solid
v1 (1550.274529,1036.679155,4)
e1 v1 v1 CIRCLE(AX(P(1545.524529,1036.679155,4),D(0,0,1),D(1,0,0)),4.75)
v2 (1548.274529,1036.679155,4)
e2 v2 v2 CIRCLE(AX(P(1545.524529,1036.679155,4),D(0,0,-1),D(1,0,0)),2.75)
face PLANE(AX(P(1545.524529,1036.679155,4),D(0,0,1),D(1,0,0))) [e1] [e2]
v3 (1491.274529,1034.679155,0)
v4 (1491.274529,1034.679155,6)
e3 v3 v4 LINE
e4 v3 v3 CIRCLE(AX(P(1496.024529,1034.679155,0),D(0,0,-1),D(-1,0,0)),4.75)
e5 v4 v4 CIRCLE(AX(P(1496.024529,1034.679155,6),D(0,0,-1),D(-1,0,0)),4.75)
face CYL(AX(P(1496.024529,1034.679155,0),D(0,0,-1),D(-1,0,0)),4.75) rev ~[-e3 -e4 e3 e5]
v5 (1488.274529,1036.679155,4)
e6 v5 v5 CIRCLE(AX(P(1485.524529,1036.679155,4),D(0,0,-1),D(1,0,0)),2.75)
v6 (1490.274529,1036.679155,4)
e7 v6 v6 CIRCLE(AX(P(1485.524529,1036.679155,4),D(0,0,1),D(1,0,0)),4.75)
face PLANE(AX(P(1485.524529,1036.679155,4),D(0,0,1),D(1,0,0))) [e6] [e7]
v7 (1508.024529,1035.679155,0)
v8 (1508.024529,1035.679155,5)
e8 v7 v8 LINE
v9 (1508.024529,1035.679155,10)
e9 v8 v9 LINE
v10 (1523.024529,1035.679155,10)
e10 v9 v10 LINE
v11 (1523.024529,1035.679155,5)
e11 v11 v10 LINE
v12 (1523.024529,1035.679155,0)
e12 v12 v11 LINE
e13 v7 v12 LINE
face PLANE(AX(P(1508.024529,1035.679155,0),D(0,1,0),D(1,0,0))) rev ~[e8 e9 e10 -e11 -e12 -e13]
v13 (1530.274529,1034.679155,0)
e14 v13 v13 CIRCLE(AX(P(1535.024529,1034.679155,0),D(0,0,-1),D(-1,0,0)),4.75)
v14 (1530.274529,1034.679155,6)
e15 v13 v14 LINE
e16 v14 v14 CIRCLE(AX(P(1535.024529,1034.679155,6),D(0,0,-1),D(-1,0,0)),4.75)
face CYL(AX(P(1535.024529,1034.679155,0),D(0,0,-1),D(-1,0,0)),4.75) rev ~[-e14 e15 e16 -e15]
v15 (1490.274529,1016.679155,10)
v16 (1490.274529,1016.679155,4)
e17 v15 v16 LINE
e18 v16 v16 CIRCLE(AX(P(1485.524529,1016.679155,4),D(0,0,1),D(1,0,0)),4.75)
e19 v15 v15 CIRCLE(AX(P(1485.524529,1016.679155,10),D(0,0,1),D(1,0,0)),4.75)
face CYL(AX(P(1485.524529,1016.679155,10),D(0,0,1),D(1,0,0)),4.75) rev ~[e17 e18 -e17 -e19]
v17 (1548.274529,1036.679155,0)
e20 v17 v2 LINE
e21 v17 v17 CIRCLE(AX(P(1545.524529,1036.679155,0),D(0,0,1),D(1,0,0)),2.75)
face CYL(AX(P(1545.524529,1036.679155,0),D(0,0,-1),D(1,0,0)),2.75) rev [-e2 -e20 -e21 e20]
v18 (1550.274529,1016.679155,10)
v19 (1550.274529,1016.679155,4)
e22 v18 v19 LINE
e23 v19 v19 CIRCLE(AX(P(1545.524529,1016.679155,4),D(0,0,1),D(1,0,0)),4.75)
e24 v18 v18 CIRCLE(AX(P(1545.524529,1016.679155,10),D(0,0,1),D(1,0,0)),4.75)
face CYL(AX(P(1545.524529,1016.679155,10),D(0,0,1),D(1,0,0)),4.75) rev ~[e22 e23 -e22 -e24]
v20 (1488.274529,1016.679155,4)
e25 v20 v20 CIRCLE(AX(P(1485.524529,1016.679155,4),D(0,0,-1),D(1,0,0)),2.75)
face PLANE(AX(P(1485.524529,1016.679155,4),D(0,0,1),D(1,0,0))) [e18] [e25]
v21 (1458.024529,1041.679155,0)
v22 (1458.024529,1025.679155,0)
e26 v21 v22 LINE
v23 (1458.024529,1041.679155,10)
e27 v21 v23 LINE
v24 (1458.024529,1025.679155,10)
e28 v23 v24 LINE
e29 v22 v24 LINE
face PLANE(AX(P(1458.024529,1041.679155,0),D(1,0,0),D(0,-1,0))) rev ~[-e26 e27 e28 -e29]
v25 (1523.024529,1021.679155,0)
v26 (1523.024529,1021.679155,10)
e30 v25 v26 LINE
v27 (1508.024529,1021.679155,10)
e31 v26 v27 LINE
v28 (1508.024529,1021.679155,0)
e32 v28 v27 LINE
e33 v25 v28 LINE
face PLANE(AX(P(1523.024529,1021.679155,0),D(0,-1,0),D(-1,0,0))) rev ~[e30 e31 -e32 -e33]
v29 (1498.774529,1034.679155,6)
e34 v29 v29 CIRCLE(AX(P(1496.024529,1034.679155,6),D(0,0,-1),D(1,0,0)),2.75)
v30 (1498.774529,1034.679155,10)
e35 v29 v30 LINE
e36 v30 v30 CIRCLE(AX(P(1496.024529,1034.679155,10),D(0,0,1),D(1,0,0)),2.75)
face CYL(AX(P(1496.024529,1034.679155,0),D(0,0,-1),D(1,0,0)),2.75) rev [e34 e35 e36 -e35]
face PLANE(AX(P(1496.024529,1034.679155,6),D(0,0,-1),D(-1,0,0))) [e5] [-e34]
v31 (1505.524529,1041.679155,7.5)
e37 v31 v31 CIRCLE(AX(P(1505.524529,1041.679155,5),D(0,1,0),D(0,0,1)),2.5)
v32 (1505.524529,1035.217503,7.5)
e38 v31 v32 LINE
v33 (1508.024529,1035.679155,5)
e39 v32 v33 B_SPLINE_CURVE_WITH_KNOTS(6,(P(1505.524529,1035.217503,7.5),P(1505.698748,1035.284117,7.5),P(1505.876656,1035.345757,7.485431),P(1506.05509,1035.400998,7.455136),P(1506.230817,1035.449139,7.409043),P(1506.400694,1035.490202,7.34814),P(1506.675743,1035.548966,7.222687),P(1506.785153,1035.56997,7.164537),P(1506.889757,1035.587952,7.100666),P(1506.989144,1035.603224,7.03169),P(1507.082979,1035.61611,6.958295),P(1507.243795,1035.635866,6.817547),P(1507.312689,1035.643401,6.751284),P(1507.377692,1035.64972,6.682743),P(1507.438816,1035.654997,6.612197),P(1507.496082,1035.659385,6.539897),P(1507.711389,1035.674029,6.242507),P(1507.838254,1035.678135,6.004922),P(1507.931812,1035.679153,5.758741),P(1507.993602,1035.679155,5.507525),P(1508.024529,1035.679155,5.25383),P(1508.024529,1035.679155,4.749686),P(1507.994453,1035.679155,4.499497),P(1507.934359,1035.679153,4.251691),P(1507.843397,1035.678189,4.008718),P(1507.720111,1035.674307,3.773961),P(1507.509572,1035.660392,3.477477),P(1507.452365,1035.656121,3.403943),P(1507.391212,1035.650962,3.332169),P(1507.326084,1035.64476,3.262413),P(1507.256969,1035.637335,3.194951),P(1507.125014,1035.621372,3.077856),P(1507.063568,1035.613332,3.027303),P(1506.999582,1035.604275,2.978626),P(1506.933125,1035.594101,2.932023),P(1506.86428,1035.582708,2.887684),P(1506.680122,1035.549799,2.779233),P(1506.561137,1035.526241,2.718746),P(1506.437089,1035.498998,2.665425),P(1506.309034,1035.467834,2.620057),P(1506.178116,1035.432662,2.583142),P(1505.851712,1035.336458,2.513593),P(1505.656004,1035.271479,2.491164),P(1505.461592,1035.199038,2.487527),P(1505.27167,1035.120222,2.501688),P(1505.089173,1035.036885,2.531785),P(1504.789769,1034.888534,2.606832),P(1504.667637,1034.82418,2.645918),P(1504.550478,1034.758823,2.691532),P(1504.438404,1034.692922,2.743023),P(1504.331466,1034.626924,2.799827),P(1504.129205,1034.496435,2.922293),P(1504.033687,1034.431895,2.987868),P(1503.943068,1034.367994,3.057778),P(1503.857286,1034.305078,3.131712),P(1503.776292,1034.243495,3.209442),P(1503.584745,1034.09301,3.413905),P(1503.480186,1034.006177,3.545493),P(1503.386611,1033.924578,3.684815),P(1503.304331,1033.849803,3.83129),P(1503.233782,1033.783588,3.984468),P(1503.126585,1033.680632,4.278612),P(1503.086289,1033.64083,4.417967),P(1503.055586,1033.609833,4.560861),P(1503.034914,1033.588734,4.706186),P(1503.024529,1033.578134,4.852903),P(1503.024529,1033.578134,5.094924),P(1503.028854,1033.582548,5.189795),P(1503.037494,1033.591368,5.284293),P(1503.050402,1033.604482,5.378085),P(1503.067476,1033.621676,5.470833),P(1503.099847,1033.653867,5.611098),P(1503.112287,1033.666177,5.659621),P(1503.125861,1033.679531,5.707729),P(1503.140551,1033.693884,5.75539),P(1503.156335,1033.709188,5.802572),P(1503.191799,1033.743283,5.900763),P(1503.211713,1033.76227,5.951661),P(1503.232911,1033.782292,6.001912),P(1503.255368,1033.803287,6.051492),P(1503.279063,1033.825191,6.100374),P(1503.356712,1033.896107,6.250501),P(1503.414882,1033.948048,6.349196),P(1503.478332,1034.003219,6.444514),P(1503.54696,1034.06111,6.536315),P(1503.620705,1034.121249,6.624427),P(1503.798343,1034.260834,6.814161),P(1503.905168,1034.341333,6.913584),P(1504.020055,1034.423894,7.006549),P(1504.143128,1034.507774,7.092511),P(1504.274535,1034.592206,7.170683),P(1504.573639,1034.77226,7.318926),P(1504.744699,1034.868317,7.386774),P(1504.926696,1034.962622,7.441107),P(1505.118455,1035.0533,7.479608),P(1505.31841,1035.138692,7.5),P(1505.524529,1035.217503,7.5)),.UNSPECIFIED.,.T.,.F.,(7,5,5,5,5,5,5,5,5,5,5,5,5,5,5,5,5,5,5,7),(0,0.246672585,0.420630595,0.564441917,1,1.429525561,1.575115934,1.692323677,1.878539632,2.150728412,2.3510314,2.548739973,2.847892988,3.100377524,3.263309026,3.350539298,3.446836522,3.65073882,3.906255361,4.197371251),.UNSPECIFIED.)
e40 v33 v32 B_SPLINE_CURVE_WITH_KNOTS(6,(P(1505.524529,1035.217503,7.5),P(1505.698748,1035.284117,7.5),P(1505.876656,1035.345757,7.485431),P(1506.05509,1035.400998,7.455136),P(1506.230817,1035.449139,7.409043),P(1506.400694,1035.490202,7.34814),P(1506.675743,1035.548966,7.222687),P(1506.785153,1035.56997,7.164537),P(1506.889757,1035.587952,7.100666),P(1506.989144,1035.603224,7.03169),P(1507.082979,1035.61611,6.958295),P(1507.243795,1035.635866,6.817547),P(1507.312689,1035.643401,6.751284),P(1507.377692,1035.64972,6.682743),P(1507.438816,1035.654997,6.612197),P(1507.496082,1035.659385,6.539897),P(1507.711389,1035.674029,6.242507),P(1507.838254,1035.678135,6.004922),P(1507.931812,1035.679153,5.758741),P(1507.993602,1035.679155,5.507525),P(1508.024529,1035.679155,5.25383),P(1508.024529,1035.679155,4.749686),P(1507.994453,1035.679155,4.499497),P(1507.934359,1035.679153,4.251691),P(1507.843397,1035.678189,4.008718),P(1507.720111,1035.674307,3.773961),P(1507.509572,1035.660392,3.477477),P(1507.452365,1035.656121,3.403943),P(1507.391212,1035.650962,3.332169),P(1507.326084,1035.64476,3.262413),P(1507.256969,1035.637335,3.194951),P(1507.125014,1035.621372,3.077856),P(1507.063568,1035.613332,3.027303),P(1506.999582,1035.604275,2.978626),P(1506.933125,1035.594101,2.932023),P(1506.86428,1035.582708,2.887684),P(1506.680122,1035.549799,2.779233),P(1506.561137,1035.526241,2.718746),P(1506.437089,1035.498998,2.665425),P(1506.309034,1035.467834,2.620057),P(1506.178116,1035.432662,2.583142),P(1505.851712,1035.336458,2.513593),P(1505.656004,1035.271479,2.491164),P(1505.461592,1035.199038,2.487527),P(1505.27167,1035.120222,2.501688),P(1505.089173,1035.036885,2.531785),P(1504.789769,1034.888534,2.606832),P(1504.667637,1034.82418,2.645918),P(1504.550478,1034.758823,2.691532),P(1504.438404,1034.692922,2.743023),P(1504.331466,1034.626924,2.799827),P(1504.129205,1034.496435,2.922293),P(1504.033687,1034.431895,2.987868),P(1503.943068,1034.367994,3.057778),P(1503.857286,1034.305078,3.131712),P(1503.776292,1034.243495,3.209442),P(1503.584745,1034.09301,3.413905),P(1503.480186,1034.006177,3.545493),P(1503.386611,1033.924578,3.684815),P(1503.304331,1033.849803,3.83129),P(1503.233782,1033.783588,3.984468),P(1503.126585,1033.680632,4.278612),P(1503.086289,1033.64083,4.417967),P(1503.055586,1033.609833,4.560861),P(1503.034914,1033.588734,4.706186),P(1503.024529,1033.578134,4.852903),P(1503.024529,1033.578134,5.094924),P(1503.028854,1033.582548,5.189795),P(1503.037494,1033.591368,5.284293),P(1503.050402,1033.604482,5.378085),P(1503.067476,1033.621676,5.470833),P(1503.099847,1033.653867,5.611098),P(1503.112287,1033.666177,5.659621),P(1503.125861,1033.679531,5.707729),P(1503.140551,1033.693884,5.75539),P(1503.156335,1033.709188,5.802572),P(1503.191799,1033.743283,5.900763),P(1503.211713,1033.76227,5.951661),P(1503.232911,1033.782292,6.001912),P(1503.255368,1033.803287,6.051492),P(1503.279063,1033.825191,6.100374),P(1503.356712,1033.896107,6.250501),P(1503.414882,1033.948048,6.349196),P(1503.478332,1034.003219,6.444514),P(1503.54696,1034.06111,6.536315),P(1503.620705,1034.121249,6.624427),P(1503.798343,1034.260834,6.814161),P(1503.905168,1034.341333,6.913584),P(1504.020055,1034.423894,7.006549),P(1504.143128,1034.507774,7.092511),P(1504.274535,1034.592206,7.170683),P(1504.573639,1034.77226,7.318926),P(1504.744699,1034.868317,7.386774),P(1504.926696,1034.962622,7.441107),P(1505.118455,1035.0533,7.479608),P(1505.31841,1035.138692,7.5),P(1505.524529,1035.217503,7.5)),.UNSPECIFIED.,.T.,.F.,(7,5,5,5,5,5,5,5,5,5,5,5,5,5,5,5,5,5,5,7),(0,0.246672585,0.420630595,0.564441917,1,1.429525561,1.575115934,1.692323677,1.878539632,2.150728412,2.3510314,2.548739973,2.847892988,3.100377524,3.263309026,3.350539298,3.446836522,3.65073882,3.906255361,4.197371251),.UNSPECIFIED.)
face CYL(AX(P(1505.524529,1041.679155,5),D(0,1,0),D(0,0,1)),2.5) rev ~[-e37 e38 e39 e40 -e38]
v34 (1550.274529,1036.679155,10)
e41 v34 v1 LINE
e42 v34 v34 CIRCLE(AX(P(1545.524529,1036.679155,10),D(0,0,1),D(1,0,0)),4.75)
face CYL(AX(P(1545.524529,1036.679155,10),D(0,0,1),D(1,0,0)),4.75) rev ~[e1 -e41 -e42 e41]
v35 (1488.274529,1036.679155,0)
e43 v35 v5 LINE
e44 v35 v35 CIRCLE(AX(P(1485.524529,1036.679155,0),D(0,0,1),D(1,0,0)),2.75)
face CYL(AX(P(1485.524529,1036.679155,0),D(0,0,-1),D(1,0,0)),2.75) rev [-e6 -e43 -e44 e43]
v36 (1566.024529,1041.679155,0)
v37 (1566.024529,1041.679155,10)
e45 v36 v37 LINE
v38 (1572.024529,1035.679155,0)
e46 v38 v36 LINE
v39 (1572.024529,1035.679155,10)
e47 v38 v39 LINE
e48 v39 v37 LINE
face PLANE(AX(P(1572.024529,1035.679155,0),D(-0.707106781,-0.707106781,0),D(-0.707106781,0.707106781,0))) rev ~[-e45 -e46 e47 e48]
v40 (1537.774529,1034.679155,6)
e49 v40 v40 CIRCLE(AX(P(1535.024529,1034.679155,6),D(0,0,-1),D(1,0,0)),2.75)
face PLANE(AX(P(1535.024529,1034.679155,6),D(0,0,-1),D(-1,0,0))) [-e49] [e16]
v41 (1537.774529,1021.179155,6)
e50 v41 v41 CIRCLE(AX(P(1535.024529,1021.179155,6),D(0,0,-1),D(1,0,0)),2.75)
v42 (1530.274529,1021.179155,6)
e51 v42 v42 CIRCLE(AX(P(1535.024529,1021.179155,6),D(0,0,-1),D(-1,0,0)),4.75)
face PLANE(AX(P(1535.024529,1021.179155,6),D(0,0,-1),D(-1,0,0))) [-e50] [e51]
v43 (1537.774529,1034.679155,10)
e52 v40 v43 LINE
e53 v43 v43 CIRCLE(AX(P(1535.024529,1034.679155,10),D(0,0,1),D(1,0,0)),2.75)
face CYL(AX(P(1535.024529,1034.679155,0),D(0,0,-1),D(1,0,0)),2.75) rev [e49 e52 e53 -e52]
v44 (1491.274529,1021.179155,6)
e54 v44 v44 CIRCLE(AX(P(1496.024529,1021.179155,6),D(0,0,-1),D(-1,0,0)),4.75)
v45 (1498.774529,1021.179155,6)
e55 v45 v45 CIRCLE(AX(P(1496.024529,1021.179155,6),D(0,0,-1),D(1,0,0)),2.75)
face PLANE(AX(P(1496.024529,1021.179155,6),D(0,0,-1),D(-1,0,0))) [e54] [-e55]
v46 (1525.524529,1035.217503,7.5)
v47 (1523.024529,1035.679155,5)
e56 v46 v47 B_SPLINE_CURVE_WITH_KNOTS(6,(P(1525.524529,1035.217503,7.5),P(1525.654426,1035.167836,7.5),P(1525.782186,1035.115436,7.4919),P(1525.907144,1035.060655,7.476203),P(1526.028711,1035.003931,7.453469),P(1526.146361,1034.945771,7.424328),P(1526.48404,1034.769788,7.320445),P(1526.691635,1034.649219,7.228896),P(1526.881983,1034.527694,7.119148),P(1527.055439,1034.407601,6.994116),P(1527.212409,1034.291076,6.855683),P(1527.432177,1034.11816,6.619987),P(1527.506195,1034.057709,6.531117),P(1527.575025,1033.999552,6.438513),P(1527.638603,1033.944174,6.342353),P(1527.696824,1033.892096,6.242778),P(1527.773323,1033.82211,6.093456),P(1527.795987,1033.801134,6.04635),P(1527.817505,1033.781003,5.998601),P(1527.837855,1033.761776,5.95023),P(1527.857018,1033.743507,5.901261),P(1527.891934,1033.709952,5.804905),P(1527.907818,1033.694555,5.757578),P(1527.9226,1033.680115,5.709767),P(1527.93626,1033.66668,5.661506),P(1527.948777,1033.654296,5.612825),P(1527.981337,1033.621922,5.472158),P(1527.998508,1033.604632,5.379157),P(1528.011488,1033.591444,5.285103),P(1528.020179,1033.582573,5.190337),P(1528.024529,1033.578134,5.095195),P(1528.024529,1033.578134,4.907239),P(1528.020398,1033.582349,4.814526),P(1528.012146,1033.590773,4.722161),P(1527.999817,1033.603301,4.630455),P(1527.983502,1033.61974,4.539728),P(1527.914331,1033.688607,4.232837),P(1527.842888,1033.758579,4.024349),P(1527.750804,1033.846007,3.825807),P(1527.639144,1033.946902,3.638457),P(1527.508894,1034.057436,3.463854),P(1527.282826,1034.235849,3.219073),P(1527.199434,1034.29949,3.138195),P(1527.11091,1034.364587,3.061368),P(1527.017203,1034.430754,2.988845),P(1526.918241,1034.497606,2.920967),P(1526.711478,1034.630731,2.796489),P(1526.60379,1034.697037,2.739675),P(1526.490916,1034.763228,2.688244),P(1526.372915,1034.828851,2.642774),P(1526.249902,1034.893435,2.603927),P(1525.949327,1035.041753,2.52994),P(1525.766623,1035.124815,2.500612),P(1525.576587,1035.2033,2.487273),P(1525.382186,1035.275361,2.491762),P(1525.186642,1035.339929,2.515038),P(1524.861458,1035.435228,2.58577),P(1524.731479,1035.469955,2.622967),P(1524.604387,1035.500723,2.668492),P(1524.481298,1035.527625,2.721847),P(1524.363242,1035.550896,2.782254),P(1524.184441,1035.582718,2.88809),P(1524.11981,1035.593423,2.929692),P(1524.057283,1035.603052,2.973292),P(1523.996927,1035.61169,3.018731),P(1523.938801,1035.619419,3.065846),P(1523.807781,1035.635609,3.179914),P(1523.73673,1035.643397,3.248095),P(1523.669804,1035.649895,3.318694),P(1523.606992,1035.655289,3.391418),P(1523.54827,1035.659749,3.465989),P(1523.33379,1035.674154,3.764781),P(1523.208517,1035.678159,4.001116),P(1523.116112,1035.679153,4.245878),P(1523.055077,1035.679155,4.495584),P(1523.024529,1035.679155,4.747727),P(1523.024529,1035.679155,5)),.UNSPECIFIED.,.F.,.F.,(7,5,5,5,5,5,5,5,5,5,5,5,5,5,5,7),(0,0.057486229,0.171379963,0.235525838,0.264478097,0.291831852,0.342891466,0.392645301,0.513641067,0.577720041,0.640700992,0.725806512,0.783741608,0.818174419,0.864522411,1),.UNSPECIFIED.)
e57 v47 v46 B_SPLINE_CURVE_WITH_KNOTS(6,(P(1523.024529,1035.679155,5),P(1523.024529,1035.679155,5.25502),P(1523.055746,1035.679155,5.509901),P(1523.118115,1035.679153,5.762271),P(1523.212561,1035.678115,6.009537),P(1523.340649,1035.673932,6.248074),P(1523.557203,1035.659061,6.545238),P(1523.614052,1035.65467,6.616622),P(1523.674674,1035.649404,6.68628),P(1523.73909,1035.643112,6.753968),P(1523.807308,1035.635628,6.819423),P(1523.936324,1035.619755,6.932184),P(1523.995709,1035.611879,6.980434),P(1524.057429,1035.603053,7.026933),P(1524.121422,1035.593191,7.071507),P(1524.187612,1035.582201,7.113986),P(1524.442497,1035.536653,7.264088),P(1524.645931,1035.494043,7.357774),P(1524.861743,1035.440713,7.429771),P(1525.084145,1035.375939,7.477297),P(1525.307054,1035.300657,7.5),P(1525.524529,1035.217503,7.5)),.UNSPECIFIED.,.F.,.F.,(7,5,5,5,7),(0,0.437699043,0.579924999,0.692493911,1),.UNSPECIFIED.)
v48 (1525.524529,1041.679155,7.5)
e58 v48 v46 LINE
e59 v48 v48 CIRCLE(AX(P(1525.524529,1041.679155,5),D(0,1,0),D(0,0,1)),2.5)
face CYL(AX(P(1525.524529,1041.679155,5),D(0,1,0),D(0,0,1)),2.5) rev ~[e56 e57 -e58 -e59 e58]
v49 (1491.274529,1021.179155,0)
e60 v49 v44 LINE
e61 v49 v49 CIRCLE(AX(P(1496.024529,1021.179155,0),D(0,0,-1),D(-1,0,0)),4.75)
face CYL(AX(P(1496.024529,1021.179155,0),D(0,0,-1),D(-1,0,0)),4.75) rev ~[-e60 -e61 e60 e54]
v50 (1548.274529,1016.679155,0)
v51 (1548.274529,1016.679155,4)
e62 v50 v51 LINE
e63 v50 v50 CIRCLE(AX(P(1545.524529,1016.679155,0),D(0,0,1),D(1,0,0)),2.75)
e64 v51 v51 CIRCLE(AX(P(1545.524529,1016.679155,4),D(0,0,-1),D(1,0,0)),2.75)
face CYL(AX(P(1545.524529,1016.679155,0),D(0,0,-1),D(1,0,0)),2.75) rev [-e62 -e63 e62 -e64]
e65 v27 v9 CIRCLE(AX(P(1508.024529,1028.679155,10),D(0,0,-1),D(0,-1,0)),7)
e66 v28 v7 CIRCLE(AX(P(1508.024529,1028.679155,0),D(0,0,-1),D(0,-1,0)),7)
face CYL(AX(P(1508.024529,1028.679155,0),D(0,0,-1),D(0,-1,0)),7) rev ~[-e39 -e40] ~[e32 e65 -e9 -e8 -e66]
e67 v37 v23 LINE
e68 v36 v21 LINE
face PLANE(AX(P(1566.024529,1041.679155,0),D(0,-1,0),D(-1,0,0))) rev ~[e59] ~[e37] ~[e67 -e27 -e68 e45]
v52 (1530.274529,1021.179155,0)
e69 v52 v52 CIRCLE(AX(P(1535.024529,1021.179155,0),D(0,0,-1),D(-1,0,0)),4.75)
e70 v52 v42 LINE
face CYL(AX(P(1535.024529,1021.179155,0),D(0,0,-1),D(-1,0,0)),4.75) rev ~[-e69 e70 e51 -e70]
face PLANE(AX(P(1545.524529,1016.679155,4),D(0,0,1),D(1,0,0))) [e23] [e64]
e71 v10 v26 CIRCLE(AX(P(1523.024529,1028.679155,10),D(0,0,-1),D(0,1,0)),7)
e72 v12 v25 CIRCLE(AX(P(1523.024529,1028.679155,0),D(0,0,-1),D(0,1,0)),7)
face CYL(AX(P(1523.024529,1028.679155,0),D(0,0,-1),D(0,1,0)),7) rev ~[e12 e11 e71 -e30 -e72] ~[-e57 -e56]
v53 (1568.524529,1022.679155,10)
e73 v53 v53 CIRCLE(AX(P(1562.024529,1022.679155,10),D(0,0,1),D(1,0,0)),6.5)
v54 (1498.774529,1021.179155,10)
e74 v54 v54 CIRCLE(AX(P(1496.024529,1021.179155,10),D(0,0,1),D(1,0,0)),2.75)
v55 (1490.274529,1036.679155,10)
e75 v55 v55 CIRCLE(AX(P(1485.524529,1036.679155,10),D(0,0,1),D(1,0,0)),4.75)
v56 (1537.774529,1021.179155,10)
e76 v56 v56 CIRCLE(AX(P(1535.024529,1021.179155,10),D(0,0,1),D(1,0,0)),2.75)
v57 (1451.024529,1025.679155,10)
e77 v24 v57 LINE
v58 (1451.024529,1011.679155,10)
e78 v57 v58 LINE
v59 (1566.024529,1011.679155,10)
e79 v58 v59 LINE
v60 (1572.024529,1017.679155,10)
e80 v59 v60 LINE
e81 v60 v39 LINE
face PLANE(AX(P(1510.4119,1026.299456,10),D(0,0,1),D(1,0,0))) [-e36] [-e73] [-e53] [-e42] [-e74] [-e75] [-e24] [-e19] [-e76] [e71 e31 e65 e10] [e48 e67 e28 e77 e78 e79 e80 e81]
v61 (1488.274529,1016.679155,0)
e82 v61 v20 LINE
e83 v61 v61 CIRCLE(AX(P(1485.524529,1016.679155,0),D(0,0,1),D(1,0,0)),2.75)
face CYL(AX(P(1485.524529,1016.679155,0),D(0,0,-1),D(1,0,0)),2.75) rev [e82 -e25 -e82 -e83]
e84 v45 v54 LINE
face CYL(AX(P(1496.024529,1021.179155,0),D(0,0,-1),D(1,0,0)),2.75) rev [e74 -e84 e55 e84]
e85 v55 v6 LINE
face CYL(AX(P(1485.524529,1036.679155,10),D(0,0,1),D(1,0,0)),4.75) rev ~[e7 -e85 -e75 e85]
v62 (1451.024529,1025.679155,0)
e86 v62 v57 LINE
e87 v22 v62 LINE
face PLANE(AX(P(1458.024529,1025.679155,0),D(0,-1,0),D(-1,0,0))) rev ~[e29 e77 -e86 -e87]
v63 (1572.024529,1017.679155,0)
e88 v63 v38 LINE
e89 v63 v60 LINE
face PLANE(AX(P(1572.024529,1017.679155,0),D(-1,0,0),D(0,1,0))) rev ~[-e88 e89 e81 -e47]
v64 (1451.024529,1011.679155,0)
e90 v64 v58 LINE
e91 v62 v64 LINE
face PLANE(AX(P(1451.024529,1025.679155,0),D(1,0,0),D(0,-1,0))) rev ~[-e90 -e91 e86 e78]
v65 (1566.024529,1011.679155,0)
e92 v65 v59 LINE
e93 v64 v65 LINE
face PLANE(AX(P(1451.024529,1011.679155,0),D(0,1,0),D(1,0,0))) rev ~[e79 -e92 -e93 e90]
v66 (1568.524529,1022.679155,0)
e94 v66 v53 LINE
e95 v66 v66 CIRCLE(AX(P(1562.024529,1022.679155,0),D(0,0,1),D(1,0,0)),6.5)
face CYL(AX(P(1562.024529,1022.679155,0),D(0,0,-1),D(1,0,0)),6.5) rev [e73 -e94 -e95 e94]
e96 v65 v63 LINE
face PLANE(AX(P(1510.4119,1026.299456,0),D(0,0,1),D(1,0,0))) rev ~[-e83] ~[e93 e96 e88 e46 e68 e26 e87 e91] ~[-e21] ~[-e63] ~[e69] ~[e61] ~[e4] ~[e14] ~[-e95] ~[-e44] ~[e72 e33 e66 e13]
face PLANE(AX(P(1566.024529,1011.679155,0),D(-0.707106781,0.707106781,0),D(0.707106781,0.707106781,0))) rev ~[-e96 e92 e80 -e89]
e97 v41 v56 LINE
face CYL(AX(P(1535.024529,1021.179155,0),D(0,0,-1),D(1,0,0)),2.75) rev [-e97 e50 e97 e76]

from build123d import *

# Parameters (mm, degrees)
SKETCH_1_R          = 2.75
SKETCH_1_R_2        = 6.5
EXTRUDE_1_DEPTH     = 10
SKETCH_2_R          = 4.75
CUT_EXTRUDE_2_DEPTH = 6
SKETCH_3_R          = 4.75
CUT_EXTRUDE_3_DEPTH = 6
CUT_EXTRUDE_4_REACH = 1574.343
SKETCH_4_R          = 2.5


with BuildPart() as part:
    # 草图1 → 拉伸1 (new body)
    with BuildSketch(Plane.XY):
        Polygon((1458.024528538, 1041.679154631), (1458.024528538, 1025.679154631), (1451.024528538, 1025.679154631), (1451.024528538, 1011.679154631), (1566.024528538, 1011.679154631), (1572.024528538, 1017.679154631), (1572.024528538, 1035.679154631), (1566.024528538, 1041.679154631), align=None)
        with Locations((1545.524528538, 1016.679154631)):
            Circle(SKETCH_1_R, mode=Mode.SUBTRACT)
        with Locations((1485.524528538, 1016.679154631)):
            Circle(SKETCH_1_R, mode=Mode.SUBTRACT)
        with Locations((1485.524528538, 1036.679154631)):
            Circle(SKETCH_1_R, mode=Mode.SUBTRACT)
        with Locations((1545.524528538, 1036.679154631)):
            Circle(SKETCH_1_R, mode=Mode.SUBTRACT)
        with Locations((1496.024528538, 1021.179154631)):
            Circle(SKETCH_1_R, mode=Mode.SUBTRACT)
        with Locations((1535.024528538, 1021.179154631)):
            Circle(SKETCH_1_R, mode=Mode.SUBTRACT)
        with Locations((1535.024528538, 1034.679154631)):
            Circle(SKETCH_1_R, mode=Mode.SUBTRACT)
        with Locations((1496.024528538, 1034.679154631)):
            Circle(SKETCH_1_R, mode=Mode.SUBTRACT)
        with Locations((1562.024528538, 1022.679154631)):
            Circle(SKETCH_1_R_2, mode=Mode.SUBTRACT)
        with BuildLine():
            Line((1508.024528538, 1035.679154631), (1523.024528538, 1035.679154631))
            ThreePointArc((1523.024528538, 1035.679154631), (1530.024528538, 1028.679154631), (1523.024528538, 1021.679154631))
            Line((1523.024528538, 1021.679154631), (1508.024528538, 1021.679154631))
            ThreePointArc((1508.024528538, 1021.679154631), (1501.024528538, 1028.679154631), (1508.024528538, 1035.679154631))
        make_face(mode=Mode.SUBTRACT)
    extrude(amount=EXTRUDE_1_DEPTH)

    # 草图2 → 拉伸2 (cut)
    with BuildSketch(Plane.XY.offset(10)):
        with Locations((1485.524528538, 1036.679154631)):
            Circle(SKETCH_2_R)
        with Locations((1545.524528538, 1036.679154631)):
            Circle(SKETCH_2_R)
        with Locations((1485.524528538, 1016.679154631)):
            Circle(SKETCH_2_R)
        with Locations((1545.524528538, 1016.679154631)):
            Circle(SKETCH_2_R)
    extrude(amount=-CUT_EXTRUDE_2_DEPTH, mode=Mode.SUBTRACT)

    # 草图3 → 拉伸3 (cut)
    with BuildSketch(Plane(origin=(0, 0, 0), x_dir=(-1, 0, 0), z_dir=(0, 0, -1))):
        with Locations((-1535.024528538, 1034.679154631)):
            Circle(SKETCH_3_R)
        with Locations((-1496.024528538, 1034.679154631)):
            Circle(SKETCH_3_R)
        with Locations((-1535.024528538, 1021.179154631)):
            Circle(SKETCH_3_R)
        with Locations((-1496.024528538, 1021.179154631)):
            Circle(SKETCH_3_R)
    extrude(amount=-CUT_EXTRUDE_3_DEPTH, mode=Mode.SUBTRACT)

    # 草图4 → 拉伸4 (cut, up to next)
    with BuildSketch(Plane(origin=(0, 1041.679154631, 0), x_dir=(1, 0, 0), z_dir=(0, 1, 0)), mode=Mode.PRIVATE) as cut_extrude_4_sk1:
        with Locations(Location((1505.524528538, -5, 0), (0, 0, 270))):
            Circle(SKETCH_4_R)
    cut_extrude_4_tool1 = extrude(cut_extrude_4_sk1.sketch, amount=-CUT_EXTRUDE_4_REACH, mode=Mode.PRIVATE) & part.part
    # 草图4 → 拉伸4 (cut, up to next)
    with BuildSketch(Plane(origin=(0, 1041.679154631, 0), x_dir=(1, 0, 0), z_dir=(0, 1, 0)), mode=Mode.PRIVATE) as cut_extrude_4_sk2:
        with Locations(Location((1525.524528538, -5, 0), (0, 0, 270))):
            Circle(SKETCH_4_R)
    cut_extrude_4_tool2 = extrude(cut_extrude_4_sk2.sketch, amount=-CUT_EXTRUDE_4_REACH, mode=Mode.PRIVATE) & part.part
    add(cut_extrude_4_tool1.solids().sort_by_distance((1505.524529, 1041.679155, 5))[0], mode=Mode.SUBTRACT)
    add(cut_extrude_4_tool2.solids().sort_by_distance((1525.524529, 1041.679155, 5))[0], mode=Mode.SUBTRACT)


solid = part.part
